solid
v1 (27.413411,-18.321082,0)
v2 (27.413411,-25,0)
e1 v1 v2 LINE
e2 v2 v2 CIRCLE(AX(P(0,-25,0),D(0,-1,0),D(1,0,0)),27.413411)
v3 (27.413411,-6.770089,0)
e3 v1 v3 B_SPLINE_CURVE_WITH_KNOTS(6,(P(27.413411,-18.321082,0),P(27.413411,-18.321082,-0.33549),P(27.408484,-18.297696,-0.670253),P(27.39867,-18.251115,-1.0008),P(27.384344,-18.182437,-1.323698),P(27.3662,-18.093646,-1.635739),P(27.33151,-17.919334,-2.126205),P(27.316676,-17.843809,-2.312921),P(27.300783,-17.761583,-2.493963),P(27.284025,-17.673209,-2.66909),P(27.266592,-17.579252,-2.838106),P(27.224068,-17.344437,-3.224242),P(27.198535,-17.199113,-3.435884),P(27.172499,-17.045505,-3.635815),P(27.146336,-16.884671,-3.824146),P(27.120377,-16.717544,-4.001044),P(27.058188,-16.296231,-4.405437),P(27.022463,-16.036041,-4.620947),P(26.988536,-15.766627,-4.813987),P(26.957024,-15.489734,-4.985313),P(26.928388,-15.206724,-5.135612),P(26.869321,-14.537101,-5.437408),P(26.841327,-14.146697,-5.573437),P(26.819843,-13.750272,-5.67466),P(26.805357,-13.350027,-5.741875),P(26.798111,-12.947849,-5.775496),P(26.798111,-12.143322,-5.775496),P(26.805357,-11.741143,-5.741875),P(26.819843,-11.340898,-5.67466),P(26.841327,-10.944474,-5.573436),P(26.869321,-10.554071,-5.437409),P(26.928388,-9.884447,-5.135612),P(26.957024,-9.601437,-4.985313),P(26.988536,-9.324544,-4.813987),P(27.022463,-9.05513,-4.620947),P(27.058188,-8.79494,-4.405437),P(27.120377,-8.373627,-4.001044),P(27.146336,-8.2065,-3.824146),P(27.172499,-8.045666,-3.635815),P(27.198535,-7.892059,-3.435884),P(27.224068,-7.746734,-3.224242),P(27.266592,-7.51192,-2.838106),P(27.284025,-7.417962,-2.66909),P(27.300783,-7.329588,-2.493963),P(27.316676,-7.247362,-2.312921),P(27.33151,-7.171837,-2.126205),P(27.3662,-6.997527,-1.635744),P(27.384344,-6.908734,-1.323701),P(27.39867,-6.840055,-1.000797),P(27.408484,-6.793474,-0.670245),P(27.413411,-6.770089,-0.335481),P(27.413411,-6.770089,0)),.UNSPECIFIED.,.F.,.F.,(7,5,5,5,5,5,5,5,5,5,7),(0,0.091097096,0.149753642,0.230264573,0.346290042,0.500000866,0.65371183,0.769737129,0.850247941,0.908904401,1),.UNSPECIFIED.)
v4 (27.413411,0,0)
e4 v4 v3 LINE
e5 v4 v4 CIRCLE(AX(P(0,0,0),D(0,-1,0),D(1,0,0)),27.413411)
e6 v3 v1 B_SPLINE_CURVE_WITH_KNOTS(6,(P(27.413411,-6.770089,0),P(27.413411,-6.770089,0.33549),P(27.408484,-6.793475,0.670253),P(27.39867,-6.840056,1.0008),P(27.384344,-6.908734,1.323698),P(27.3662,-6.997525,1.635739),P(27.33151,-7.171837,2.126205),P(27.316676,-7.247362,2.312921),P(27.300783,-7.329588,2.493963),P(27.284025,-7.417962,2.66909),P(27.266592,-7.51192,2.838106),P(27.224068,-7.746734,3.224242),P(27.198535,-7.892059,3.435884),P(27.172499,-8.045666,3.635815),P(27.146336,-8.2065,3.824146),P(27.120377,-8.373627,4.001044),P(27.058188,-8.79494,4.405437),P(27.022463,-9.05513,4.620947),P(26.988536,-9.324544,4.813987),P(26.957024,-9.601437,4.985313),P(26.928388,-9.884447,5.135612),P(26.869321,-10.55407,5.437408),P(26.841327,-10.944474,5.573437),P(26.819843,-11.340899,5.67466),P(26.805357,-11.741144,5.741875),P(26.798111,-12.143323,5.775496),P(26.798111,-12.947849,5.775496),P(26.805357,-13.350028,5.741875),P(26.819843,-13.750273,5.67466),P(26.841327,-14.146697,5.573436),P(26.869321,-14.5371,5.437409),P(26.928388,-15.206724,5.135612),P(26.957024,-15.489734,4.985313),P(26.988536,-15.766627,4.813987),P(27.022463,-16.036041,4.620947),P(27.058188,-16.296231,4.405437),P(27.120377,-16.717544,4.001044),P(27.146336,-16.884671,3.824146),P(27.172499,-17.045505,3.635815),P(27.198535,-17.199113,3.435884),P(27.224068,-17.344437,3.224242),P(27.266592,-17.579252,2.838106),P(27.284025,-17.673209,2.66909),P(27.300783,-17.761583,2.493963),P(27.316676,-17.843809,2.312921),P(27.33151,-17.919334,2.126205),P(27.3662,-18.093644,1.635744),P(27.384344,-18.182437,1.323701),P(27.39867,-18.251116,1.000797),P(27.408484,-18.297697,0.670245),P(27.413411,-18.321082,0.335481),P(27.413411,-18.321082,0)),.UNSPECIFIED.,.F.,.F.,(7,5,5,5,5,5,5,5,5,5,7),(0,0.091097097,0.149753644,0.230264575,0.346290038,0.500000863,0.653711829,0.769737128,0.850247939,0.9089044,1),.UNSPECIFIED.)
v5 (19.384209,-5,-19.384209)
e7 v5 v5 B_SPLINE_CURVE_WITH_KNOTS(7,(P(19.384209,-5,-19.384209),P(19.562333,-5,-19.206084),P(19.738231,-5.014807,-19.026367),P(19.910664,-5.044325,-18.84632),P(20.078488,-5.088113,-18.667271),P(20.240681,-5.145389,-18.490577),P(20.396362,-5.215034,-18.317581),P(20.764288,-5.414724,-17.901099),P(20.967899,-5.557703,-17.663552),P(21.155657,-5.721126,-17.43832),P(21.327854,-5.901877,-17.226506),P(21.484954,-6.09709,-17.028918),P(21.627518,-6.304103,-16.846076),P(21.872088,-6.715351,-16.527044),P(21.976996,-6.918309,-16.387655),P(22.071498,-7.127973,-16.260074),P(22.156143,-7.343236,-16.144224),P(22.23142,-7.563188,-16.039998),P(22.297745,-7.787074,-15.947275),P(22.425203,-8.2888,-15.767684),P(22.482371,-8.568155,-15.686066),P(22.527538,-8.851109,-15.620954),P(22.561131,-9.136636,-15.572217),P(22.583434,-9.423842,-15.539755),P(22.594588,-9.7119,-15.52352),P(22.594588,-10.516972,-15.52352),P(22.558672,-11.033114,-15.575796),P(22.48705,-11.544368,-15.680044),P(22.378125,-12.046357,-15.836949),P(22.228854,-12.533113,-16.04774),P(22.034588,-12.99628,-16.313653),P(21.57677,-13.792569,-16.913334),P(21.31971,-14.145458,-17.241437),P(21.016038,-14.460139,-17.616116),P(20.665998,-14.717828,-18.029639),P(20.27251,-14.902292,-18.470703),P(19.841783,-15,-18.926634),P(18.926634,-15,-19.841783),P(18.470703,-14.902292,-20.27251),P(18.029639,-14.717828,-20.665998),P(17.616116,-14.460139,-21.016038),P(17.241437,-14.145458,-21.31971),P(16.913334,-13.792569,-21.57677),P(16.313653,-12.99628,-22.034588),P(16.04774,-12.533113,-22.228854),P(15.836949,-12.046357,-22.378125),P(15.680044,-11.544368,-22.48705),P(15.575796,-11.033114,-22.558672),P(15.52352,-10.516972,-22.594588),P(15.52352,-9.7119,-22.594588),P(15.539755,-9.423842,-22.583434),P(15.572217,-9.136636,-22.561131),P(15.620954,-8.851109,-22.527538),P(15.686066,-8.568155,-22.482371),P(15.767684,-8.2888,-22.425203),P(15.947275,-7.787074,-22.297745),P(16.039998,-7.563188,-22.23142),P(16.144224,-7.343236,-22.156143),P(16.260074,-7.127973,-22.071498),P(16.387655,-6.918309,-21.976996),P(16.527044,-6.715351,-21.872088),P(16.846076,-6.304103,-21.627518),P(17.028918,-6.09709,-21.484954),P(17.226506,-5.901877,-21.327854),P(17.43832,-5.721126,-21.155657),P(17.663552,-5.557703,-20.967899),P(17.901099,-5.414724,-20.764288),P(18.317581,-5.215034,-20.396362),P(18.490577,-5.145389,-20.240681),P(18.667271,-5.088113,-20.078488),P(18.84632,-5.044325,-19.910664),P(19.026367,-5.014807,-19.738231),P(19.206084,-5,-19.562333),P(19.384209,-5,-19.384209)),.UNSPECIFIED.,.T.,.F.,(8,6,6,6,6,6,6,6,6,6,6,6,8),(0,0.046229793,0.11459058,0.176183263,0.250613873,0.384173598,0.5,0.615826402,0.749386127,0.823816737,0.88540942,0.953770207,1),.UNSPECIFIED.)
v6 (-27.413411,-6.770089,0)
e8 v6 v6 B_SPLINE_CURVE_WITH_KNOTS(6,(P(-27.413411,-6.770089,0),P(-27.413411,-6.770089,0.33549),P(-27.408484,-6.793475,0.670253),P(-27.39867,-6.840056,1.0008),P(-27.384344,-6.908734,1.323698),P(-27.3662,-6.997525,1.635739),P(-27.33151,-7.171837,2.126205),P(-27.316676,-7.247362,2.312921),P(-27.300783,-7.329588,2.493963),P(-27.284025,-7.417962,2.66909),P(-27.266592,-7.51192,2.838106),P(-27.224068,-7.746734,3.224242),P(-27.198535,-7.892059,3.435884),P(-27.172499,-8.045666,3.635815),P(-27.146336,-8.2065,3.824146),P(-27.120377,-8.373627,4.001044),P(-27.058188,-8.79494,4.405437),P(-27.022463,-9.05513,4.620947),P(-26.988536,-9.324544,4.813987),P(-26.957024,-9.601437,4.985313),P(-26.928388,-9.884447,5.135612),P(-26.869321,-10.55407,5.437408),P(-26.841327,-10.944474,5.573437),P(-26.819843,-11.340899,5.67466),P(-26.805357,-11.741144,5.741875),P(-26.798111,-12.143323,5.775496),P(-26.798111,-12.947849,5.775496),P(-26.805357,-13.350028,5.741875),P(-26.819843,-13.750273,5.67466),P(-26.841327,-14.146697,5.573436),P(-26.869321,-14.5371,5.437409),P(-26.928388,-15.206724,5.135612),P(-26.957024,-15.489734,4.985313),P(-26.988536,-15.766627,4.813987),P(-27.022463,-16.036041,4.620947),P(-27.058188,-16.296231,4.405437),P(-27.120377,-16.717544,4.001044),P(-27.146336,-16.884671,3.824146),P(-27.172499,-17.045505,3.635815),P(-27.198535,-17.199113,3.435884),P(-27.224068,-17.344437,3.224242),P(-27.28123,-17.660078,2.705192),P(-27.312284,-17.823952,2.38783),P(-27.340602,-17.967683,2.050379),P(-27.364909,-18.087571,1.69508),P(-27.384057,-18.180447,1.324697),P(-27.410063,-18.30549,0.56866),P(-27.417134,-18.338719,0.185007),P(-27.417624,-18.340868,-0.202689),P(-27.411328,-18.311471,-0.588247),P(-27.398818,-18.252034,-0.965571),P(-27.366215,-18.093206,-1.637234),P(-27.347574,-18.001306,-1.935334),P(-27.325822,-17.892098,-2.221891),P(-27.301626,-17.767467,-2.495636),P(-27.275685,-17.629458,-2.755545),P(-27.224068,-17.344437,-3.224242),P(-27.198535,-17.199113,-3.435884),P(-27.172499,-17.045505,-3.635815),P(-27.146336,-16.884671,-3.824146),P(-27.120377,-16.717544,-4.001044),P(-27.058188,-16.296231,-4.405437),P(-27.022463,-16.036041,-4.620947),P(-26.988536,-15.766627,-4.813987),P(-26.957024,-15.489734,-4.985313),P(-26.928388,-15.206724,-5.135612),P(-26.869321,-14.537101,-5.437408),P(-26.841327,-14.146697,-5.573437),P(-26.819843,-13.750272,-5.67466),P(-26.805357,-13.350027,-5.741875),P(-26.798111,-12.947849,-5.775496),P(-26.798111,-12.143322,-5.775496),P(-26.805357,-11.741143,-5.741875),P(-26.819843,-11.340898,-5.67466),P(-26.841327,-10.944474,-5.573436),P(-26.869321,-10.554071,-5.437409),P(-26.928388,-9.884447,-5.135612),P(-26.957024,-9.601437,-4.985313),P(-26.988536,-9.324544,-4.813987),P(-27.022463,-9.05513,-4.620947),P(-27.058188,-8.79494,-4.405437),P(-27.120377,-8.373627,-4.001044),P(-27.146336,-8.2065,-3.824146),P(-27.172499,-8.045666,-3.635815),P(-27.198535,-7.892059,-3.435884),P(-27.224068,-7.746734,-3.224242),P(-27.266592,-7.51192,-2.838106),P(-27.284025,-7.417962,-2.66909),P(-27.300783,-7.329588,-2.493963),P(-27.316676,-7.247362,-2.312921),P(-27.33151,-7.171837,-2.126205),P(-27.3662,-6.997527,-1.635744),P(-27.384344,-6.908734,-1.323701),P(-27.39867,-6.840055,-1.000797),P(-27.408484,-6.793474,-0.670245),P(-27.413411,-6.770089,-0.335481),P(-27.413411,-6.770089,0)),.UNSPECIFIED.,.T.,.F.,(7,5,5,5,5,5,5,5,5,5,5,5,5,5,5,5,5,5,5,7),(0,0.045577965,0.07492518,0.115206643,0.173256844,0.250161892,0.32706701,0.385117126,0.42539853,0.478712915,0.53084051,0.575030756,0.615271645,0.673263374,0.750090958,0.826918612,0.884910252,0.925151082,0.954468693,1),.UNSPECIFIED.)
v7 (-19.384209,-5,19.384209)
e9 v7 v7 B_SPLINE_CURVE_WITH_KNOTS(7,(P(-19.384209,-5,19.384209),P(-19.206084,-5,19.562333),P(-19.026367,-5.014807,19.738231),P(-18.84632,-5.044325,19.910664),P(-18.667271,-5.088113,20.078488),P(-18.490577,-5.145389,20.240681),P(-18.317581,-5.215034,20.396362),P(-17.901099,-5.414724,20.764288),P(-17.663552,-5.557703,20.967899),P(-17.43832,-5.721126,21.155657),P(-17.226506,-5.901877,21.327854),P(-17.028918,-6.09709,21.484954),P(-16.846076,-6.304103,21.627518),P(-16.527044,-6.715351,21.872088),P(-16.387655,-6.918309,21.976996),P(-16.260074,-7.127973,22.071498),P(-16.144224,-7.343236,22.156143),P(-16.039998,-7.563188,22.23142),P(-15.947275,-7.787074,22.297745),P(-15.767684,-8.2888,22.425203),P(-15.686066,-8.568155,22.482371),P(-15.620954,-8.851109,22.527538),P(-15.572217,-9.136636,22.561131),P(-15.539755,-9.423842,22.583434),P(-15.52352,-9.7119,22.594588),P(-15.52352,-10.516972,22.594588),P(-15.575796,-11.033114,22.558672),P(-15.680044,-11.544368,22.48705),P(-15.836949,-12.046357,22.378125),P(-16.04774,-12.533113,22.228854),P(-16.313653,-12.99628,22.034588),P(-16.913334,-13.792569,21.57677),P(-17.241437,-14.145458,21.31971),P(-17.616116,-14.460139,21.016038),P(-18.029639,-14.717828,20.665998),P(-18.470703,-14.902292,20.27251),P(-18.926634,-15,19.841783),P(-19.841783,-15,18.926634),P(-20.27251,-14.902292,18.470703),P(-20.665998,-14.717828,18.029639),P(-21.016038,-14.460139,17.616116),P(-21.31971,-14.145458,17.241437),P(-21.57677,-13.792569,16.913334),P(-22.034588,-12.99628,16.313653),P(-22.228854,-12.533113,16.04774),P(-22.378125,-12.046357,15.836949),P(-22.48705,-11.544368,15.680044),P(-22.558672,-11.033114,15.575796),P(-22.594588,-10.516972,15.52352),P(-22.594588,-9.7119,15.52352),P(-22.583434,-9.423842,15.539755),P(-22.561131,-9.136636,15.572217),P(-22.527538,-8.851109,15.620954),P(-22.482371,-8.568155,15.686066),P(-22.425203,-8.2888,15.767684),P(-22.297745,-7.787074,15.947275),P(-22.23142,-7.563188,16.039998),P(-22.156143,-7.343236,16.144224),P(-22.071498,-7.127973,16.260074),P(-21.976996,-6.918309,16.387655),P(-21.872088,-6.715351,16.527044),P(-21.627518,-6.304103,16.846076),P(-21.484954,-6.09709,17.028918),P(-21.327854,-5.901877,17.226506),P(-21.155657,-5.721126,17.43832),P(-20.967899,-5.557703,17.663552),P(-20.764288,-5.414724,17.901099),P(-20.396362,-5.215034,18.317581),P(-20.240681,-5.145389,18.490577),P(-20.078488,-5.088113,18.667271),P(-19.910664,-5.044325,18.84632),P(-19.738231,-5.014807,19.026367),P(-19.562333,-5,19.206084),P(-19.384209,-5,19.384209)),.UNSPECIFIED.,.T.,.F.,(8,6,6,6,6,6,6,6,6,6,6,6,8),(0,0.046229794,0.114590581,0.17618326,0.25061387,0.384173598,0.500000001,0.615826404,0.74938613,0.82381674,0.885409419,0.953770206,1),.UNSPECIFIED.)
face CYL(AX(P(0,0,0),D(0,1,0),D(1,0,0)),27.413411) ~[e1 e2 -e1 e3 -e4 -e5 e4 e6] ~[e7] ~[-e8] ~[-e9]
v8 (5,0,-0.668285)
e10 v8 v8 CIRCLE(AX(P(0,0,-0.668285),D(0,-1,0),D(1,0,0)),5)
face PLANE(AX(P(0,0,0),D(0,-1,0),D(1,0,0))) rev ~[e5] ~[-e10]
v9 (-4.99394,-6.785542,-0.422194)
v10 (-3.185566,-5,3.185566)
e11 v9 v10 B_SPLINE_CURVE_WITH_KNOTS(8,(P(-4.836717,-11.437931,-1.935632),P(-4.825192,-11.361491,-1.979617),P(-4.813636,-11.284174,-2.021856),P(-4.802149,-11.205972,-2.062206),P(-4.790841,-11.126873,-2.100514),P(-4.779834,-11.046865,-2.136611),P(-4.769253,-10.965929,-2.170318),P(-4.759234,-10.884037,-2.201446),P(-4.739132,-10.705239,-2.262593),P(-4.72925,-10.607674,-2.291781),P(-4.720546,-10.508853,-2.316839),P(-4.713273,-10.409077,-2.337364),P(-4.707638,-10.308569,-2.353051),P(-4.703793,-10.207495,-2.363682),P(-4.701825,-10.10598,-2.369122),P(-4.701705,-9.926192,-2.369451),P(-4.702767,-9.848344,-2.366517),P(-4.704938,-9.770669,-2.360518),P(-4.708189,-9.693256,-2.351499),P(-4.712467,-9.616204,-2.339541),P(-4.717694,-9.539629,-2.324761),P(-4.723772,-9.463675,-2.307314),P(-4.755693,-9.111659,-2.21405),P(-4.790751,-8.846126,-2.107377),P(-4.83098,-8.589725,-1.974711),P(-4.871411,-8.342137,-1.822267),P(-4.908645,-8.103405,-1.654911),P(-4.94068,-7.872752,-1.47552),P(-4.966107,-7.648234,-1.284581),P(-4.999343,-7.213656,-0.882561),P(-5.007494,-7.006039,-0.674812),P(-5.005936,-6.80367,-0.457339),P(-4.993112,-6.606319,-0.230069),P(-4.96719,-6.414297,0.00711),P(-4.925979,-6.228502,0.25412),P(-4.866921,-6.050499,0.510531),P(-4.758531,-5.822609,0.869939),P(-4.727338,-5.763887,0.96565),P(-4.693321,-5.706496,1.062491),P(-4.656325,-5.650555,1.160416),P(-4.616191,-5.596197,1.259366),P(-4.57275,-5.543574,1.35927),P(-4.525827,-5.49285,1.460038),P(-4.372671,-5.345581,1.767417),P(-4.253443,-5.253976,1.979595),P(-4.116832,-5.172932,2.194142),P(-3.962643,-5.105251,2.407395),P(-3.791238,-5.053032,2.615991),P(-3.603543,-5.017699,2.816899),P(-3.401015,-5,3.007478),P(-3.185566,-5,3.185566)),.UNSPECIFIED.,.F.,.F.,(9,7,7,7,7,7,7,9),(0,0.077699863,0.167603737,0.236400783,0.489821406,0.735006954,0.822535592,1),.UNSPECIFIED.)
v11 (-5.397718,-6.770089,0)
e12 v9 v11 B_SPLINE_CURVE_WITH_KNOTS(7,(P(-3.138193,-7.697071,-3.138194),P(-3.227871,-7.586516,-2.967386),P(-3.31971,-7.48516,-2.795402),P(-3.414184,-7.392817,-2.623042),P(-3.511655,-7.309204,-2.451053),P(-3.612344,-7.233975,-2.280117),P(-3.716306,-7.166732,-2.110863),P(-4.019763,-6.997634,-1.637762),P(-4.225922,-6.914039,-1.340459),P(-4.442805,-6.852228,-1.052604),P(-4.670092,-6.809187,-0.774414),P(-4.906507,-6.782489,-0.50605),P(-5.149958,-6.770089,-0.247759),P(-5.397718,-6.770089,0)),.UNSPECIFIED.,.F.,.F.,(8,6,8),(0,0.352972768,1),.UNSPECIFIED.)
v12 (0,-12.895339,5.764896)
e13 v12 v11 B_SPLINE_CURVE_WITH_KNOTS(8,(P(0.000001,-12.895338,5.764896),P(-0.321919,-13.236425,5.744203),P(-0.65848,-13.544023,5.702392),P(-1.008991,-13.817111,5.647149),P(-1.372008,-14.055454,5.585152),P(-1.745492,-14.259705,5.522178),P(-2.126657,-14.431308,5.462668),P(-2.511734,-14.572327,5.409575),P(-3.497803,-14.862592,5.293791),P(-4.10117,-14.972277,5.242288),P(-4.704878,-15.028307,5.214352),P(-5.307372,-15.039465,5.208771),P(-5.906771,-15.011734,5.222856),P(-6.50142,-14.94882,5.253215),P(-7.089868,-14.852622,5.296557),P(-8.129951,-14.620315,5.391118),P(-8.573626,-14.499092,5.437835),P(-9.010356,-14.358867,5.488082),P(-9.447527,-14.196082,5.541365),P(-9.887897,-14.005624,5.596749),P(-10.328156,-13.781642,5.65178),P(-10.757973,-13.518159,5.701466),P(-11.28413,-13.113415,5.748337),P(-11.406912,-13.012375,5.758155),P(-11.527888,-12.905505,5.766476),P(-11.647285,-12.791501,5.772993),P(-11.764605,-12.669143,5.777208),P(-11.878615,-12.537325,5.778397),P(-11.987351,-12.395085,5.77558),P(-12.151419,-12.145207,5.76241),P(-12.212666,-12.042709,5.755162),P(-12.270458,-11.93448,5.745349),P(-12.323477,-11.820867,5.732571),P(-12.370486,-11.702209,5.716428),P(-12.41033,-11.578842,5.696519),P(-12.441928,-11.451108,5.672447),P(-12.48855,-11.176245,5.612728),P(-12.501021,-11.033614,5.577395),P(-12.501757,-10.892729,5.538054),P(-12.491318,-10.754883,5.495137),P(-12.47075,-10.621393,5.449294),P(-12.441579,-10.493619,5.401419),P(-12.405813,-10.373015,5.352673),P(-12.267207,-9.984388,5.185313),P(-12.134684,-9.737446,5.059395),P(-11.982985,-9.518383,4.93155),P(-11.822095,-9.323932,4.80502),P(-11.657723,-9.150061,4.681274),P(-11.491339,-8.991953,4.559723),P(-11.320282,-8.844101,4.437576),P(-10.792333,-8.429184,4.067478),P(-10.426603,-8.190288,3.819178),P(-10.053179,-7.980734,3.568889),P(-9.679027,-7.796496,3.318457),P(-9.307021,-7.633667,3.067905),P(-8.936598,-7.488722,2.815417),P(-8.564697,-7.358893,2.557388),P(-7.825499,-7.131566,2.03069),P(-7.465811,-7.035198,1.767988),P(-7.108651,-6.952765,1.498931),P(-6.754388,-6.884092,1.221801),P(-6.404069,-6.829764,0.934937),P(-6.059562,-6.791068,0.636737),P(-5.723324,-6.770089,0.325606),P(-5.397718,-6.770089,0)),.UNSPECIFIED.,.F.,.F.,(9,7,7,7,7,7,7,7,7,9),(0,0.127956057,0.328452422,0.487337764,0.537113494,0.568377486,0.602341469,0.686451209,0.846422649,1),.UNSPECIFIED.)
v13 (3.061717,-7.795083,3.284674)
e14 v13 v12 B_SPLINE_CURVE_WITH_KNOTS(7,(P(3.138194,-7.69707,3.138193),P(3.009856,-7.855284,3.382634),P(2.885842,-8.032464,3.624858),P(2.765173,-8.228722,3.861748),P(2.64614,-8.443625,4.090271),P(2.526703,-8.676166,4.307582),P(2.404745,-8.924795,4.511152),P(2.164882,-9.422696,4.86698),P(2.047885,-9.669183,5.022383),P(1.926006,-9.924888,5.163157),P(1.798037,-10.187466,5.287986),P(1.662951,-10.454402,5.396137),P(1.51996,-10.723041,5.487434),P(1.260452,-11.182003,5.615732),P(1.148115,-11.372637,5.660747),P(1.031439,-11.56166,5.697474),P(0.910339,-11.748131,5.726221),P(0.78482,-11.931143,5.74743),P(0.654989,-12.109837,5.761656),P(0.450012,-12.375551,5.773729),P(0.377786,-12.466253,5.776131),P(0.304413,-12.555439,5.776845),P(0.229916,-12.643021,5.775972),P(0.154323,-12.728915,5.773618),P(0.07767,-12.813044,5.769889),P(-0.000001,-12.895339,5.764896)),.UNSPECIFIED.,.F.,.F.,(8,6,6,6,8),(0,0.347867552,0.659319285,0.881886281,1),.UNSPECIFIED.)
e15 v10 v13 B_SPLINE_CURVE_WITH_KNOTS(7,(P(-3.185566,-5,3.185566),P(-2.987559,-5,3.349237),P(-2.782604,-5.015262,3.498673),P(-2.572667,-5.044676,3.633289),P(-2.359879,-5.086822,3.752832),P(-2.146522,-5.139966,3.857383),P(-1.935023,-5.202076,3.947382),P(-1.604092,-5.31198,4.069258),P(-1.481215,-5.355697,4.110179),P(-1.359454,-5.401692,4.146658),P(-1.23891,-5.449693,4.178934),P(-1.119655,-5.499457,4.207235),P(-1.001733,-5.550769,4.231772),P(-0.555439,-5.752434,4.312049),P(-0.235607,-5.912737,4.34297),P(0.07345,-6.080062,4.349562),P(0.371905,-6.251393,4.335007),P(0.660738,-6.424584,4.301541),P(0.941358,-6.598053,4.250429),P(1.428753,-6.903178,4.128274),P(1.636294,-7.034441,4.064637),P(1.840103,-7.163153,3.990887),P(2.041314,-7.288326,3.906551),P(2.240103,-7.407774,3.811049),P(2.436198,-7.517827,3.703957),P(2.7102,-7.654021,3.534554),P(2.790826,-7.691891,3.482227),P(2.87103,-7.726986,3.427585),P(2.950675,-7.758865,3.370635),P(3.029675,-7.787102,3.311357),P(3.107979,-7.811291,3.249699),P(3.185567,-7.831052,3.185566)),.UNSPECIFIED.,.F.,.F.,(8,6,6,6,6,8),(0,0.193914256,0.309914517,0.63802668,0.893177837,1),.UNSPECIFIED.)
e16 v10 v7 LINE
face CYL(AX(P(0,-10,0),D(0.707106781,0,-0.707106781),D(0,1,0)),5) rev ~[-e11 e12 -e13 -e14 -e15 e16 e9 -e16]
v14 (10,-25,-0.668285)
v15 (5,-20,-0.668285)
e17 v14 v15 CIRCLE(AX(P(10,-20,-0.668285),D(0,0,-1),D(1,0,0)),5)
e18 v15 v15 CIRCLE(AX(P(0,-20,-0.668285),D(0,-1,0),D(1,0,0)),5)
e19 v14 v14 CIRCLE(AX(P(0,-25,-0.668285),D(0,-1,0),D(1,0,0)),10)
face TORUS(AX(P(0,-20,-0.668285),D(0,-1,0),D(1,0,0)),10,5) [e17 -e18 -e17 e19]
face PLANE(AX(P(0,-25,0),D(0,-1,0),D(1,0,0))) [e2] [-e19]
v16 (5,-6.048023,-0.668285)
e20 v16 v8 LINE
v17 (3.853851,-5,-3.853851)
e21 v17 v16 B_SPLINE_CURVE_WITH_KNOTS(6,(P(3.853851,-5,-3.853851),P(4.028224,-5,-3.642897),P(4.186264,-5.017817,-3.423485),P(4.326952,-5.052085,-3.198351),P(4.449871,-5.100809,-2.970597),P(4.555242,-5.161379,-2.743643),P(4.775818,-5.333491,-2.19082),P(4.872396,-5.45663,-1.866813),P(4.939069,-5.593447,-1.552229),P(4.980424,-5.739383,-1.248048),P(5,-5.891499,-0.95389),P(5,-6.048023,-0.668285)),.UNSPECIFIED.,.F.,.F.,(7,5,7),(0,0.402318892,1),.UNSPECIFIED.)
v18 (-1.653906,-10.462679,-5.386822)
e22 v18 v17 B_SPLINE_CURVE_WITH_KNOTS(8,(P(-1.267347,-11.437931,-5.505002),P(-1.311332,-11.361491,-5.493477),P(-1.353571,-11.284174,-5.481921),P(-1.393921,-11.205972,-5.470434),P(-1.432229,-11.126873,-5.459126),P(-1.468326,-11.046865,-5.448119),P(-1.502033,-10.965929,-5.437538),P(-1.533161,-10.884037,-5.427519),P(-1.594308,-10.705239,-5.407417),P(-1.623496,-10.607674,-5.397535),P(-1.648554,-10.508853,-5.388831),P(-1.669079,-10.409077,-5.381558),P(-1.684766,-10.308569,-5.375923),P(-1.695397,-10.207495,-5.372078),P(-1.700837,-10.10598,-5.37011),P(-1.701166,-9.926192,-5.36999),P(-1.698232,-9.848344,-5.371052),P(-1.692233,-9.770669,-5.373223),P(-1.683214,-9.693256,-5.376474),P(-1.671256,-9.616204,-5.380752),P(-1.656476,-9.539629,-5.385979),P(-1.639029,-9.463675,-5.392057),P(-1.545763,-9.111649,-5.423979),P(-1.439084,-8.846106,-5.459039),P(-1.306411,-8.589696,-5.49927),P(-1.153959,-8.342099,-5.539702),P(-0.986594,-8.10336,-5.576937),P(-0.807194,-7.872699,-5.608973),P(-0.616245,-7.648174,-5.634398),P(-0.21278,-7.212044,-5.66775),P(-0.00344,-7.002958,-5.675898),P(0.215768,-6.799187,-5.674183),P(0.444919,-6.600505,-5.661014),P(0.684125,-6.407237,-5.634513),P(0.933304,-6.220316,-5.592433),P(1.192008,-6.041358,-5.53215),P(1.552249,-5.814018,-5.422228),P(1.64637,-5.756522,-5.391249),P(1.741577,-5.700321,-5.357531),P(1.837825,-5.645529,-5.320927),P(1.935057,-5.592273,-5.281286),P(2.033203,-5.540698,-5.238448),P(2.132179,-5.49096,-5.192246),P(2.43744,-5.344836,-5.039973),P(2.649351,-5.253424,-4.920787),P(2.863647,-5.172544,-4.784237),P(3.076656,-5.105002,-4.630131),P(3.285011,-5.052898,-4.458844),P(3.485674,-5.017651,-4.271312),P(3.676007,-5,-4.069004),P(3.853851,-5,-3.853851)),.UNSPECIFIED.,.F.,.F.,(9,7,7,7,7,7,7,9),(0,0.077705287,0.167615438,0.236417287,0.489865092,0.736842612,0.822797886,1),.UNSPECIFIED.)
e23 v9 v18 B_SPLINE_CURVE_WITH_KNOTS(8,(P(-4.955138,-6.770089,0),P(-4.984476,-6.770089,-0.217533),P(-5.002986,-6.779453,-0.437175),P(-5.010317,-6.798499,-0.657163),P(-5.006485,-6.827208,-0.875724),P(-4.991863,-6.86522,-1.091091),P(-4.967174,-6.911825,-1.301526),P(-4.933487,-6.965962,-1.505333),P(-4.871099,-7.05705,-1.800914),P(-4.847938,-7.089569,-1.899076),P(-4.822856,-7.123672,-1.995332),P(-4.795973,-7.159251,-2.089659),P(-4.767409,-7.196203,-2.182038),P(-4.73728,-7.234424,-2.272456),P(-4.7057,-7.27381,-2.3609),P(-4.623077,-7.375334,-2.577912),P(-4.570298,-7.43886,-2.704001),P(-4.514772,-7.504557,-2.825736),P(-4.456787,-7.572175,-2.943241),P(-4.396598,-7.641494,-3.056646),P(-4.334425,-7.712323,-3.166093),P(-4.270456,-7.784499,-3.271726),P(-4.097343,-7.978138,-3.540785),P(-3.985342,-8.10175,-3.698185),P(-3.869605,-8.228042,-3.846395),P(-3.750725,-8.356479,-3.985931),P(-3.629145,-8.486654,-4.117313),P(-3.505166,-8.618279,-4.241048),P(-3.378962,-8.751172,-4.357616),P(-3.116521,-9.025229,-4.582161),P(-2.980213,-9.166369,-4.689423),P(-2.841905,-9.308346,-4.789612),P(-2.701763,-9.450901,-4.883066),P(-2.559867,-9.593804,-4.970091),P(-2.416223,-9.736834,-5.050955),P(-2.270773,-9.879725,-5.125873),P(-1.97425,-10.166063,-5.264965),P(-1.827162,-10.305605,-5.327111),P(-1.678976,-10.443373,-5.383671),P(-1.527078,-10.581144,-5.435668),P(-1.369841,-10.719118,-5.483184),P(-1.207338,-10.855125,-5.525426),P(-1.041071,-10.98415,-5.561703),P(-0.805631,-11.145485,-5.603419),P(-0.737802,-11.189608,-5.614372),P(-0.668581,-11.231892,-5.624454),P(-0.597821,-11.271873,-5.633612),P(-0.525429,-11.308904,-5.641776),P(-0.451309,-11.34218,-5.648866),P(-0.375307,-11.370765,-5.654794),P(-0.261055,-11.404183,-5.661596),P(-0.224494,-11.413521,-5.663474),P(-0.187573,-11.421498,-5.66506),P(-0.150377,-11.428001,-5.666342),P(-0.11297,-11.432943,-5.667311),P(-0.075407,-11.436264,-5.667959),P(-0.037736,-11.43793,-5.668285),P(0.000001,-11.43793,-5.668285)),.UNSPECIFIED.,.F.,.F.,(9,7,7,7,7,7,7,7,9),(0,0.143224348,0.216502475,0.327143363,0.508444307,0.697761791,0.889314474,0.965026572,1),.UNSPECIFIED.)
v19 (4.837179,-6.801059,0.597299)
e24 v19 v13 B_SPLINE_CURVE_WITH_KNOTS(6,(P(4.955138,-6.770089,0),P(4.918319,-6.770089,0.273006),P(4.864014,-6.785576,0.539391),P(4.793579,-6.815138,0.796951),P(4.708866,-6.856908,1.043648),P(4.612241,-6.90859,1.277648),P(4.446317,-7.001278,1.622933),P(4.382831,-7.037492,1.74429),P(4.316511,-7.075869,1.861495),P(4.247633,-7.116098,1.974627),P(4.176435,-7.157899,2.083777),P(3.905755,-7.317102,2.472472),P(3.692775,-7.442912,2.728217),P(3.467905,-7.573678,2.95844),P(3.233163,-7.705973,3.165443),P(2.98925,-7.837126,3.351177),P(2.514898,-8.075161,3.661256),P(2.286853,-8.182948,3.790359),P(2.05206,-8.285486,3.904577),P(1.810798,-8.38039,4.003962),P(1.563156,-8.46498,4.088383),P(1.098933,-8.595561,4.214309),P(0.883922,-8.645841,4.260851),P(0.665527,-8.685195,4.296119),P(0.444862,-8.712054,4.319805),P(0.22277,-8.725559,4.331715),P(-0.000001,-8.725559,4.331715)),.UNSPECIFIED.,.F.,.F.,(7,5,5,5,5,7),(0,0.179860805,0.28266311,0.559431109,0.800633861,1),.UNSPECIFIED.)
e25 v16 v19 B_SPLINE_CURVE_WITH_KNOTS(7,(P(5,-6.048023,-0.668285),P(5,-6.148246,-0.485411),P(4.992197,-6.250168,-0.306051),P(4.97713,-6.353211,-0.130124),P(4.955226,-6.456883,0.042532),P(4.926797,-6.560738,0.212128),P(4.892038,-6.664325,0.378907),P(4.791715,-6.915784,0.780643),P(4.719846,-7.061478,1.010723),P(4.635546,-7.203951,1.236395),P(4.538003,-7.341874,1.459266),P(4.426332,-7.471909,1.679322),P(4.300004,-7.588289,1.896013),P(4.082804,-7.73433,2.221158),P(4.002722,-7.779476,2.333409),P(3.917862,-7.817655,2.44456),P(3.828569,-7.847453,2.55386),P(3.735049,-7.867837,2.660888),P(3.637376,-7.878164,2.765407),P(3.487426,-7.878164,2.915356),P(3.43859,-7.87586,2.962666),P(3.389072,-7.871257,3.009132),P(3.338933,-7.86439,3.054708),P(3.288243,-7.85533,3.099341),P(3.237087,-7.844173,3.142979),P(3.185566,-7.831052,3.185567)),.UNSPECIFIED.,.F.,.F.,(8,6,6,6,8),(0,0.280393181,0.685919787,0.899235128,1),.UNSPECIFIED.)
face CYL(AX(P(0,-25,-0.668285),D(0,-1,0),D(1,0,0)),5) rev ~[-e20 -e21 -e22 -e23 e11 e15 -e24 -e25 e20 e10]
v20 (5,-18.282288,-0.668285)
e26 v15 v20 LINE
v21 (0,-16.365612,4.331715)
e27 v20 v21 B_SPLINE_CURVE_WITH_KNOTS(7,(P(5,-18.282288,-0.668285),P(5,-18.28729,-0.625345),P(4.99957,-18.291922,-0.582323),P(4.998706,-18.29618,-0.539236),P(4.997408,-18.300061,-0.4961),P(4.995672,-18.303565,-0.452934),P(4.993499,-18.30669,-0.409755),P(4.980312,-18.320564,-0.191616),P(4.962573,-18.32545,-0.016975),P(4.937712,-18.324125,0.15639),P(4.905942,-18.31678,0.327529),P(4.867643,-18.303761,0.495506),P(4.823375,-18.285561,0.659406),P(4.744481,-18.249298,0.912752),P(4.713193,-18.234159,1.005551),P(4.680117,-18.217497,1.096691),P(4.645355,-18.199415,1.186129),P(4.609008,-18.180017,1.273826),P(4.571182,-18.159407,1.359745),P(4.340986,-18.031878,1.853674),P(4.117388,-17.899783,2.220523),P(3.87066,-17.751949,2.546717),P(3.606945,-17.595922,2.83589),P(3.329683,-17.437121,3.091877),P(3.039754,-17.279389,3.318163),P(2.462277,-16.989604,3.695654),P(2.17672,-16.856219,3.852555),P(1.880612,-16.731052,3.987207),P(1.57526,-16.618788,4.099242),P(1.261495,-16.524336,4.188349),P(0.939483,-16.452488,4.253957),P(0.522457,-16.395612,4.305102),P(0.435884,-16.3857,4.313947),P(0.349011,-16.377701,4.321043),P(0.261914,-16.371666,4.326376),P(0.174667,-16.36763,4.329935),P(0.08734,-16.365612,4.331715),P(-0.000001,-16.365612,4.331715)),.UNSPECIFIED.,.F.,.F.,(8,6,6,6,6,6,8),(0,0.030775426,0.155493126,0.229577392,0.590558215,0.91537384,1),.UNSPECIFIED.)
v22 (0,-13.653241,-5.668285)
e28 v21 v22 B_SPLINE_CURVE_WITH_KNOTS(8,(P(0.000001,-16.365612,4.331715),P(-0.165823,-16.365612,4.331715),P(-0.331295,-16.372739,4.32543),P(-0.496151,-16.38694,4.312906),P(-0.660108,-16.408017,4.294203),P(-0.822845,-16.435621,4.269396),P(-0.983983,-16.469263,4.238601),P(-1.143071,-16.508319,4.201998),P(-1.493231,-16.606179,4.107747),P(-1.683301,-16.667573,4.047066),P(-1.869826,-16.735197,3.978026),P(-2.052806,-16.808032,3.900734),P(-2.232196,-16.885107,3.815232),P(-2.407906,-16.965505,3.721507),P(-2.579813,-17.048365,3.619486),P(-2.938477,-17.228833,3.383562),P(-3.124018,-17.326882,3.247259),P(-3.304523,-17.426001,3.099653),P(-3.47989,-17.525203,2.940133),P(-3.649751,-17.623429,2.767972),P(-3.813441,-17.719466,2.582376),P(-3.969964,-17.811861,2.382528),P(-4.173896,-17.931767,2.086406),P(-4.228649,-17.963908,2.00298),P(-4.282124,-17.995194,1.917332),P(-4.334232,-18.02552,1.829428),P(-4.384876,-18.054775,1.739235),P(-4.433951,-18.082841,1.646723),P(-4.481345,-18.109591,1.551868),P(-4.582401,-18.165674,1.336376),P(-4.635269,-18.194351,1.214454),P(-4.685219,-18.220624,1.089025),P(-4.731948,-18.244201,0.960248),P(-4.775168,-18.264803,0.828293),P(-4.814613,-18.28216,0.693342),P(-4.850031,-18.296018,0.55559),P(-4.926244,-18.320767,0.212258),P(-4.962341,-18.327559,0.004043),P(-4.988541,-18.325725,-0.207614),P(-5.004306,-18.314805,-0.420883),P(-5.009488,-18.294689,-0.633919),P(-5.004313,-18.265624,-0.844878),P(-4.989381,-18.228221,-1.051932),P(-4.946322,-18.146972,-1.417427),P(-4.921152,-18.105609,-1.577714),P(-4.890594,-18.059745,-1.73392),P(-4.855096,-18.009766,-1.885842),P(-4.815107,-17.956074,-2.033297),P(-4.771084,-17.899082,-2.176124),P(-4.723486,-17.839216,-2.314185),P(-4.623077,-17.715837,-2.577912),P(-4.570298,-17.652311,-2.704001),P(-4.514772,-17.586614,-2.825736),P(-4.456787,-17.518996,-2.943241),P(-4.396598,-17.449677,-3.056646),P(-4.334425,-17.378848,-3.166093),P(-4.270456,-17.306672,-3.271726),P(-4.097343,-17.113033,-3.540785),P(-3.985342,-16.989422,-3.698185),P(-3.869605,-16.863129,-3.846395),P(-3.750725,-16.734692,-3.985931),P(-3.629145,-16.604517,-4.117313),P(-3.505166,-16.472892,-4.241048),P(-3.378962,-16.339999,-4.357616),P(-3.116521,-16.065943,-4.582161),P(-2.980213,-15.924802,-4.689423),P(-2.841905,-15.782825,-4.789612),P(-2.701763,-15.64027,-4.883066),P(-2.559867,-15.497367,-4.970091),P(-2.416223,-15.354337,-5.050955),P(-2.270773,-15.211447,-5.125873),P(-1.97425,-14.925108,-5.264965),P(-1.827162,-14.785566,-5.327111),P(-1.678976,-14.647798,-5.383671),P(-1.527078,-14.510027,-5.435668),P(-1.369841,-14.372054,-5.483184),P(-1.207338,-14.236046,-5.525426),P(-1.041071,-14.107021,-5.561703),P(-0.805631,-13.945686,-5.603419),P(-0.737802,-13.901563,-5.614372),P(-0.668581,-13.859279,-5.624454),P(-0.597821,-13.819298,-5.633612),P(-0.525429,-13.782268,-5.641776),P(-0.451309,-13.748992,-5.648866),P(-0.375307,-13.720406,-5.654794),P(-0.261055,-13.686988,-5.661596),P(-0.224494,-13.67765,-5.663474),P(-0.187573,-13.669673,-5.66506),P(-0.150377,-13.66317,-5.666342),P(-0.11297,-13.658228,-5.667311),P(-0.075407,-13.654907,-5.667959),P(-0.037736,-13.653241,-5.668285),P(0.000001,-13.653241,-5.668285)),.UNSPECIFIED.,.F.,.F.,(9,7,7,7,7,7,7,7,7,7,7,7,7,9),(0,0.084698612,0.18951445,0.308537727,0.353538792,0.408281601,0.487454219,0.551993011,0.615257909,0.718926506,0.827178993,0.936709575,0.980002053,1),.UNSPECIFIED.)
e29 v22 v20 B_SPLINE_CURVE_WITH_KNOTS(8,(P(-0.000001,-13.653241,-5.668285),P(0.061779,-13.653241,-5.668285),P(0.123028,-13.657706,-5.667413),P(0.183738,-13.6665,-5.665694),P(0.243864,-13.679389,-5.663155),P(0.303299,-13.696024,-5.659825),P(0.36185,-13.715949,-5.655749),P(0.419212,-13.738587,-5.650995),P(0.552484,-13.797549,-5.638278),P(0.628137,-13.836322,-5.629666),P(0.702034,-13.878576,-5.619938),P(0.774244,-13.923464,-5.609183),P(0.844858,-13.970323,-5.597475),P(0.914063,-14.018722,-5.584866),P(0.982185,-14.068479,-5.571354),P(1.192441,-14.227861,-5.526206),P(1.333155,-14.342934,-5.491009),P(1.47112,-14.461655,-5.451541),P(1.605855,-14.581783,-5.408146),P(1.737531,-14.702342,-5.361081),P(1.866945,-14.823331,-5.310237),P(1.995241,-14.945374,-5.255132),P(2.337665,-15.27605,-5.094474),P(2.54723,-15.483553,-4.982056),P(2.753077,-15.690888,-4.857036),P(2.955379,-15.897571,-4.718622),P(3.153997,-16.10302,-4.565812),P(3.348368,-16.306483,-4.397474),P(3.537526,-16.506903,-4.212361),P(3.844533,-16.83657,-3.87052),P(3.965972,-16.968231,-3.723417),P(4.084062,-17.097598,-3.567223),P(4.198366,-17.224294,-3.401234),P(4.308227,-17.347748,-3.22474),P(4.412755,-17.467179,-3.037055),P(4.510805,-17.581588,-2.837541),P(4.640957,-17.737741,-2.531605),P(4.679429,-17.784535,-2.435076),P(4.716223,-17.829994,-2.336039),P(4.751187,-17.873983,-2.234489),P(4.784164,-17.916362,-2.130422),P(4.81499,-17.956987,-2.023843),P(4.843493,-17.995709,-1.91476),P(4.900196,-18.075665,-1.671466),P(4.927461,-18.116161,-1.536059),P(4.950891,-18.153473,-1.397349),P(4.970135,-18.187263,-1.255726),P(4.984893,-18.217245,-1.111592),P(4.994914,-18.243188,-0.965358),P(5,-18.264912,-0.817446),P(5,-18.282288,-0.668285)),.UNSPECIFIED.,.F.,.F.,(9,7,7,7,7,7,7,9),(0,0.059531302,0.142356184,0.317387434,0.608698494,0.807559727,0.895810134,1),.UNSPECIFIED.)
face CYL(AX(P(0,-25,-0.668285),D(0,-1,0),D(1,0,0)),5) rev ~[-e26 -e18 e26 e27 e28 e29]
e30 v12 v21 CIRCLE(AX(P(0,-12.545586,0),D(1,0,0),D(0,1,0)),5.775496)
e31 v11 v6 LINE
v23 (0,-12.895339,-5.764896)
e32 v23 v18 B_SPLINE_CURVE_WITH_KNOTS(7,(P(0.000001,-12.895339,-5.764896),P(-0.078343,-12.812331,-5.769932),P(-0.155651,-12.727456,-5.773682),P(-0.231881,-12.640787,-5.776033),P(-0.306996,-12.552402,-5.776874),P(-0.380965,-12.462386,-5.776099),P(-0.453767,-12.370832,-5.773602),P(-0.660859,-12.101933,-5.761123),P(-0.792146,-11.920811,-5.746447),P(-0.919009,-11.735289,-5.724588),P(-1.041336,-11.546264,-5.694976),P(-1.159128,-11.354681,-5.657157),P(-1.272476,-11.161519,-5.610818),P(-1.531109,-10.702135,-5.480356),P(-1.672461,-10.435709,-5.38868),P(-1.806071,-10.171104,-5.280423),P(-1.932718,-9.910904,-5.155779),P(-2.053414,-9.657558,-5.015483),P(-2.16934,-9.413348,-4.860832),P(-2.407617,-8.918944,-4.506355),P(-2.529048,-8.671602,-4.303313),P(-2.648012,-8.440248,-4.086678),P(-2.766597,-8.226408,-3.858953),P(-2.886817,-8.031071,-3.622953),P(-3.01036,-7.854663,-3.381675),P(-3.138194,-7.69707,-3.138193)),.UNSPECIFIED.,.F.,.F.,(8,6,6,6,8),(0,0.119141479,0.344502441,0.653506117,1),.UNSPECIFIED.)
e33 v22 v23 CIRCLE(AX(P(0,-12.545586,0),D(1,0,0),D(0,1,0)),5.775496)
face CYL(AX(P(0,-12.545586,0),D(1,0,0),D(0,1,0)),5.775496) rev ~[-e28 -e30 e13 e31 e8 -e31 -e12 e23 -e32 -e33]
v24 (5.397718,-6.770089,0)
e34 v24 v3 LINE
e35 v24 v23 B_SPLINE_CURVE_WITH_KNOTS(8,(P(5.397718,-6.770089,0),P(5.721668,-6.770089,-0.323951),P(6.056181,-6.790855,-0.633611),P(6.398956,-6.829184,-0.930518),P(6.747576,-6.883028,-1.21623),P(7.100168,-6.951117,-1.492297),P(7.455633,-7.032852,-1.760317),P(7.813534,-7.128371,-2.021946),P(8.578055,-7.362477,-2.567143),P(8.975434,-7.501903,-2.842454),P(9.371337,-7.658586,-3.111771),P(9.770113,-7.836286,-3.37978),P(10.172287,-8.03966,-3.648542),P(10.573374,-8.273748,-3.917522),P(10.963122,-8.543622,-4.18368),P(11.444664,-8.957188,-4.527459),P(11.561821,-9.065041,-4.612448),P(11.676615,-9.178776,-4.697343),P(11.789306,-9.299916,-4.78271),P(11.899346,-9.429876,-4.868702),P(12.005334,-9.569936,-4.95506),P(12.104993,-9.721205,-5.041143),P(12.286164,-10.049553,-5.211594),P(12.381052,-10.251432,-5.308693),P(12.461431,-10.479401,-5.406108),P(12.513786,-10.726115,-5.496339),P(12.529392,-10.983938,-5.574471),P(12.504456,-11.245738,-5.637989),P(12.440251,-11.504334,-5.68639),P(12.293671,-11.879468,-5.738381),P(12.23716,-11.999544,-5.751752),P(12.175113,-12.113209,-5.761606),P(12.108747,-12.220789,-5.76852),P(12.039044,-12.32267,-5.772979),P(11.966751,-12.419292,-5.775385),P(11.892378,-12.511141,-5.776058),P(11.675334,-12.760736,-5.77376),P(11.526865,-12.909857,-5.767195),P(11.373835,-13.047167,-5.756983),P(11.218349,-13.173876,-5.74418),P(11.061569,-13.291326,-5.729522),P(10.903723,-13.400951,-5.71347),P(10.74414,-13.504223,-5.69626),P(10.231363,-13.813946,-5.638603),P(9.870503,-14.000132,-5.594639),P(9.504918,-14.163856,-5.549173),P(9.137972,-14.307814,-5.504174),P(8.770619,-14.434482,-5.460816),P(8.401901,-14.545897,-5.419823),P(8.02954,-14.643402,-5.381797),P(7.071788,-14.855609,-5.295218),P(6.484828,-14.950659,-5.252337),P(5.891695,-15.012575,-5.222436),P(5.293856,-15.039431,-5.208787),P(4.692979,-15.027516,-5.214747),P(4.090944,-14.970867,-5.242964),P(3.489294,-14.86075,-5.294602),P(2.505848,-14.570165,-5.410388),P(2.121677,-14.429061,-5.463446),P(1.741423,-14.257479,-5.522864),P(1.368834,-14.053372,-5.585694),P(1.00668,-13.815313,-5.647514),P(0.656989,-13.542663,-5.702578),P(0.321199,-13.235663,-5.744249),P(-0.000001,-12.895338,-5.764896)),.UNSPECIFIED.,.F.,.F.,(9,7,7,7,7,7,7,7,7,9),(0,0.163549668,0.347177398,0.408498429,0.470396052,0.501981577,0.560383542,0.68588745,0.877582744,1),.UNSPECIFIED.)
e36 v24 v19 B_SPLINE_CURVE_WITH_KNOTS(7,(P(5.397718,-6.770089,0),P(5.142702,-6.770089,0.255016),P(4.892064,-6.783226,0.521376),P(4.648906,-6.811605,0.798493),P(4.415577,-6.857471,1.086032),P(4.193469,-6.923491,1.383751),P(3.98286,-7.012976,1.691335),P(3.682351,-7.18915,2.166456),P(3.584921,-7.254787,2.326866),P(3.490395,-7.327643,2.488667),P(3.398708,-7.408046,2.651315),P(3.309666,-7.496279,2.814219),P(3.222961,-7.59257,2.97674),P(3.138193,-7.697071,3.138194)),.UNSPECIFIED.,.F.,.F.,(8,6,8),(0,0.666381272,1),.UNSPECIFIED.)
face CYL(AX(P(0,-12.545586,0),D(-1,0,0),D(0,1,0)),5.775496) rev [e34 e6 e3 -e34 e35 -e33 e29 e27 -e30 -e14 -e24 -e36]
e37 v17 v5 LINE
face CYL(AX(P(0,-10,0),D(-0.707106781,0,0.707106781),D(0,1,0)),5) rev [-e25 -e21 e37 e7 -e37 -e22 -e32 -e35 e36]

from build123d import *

# Parameters (mm, degrees)
F0_R           = 27.4134107223
F1_DEPTH       = 25
F2_R           = 5
F3_DEPTH       = 25
F3_DEPTH_BACK  = 25
F4_R           = 5
F5_R           = 5.7754961782
F6_DEPTH       = 27.4144107223
F6_DEPTH_BACK  = 27.4144107223
F9_R           = 5
F10_DEPTH      = 38.7694173758
F10_DEPTH_BACK = 38.7694173758


with BuildPart() as f1:
    # F0 (on Front) → F1 (new body)
    with BuildSketch(Plane.XZ):
        Circle(F0_R)
    extrude(amount=F1_DEPTH)

    # F2 (on face) → F3 (cut, two sides)
    with BuildSketch(Plane.XZ.offset(25)) as f3_sk:
        with Locations((0, -0.6682850071)):
            Circle(F2_R)
    extrude(amount=-F3_DEPTH, mode=Mode.SUBTRACT)
    extrude(f3_sk.sketch, amount=F3_DEPTH_BACK, mode=Mode.SUBTRACT)

    # F4
    f4_edges = [f1.edges().sort_by_distance(p)[0] for p in [
        (-5, -25, -0.668285),
    ]]
    fillet(f4_edges, radius=F4_R)

    # F5 (on Right) → F6 (cut, two sides)
    with BuildSketch(Plane.YZ) as f6_sk:
        with Locations((-12.5455856323, 0)):
            Circle(F5_R)
    extrude(amount=F6_DEPTH, mode=Mode.SUBTRACT)
    extrude(f6_sk.sketch, amount=-F6_DEPTH_BACK, mode=Mode.SUBTRACT)

    # F9 (on face) → F10 (cut, two sides)
    with BuildSketch(Plane(origin=(0, 0, 0), x_dir=(0, 1, 0), z_dir=(0.7071067812, 0, -0.7071067812))) as f10_sk:
        with Locations((-10, 0)):
            Circle(F9_R)
    extrude(amount=-F10_DEPTH, mode=Mode.SUBTRACT)
    extrude(f10_sk.sketch, amount=F10_DEPTH_BACK, mode=Mode.SUBTRACT)


solid = f1.part
